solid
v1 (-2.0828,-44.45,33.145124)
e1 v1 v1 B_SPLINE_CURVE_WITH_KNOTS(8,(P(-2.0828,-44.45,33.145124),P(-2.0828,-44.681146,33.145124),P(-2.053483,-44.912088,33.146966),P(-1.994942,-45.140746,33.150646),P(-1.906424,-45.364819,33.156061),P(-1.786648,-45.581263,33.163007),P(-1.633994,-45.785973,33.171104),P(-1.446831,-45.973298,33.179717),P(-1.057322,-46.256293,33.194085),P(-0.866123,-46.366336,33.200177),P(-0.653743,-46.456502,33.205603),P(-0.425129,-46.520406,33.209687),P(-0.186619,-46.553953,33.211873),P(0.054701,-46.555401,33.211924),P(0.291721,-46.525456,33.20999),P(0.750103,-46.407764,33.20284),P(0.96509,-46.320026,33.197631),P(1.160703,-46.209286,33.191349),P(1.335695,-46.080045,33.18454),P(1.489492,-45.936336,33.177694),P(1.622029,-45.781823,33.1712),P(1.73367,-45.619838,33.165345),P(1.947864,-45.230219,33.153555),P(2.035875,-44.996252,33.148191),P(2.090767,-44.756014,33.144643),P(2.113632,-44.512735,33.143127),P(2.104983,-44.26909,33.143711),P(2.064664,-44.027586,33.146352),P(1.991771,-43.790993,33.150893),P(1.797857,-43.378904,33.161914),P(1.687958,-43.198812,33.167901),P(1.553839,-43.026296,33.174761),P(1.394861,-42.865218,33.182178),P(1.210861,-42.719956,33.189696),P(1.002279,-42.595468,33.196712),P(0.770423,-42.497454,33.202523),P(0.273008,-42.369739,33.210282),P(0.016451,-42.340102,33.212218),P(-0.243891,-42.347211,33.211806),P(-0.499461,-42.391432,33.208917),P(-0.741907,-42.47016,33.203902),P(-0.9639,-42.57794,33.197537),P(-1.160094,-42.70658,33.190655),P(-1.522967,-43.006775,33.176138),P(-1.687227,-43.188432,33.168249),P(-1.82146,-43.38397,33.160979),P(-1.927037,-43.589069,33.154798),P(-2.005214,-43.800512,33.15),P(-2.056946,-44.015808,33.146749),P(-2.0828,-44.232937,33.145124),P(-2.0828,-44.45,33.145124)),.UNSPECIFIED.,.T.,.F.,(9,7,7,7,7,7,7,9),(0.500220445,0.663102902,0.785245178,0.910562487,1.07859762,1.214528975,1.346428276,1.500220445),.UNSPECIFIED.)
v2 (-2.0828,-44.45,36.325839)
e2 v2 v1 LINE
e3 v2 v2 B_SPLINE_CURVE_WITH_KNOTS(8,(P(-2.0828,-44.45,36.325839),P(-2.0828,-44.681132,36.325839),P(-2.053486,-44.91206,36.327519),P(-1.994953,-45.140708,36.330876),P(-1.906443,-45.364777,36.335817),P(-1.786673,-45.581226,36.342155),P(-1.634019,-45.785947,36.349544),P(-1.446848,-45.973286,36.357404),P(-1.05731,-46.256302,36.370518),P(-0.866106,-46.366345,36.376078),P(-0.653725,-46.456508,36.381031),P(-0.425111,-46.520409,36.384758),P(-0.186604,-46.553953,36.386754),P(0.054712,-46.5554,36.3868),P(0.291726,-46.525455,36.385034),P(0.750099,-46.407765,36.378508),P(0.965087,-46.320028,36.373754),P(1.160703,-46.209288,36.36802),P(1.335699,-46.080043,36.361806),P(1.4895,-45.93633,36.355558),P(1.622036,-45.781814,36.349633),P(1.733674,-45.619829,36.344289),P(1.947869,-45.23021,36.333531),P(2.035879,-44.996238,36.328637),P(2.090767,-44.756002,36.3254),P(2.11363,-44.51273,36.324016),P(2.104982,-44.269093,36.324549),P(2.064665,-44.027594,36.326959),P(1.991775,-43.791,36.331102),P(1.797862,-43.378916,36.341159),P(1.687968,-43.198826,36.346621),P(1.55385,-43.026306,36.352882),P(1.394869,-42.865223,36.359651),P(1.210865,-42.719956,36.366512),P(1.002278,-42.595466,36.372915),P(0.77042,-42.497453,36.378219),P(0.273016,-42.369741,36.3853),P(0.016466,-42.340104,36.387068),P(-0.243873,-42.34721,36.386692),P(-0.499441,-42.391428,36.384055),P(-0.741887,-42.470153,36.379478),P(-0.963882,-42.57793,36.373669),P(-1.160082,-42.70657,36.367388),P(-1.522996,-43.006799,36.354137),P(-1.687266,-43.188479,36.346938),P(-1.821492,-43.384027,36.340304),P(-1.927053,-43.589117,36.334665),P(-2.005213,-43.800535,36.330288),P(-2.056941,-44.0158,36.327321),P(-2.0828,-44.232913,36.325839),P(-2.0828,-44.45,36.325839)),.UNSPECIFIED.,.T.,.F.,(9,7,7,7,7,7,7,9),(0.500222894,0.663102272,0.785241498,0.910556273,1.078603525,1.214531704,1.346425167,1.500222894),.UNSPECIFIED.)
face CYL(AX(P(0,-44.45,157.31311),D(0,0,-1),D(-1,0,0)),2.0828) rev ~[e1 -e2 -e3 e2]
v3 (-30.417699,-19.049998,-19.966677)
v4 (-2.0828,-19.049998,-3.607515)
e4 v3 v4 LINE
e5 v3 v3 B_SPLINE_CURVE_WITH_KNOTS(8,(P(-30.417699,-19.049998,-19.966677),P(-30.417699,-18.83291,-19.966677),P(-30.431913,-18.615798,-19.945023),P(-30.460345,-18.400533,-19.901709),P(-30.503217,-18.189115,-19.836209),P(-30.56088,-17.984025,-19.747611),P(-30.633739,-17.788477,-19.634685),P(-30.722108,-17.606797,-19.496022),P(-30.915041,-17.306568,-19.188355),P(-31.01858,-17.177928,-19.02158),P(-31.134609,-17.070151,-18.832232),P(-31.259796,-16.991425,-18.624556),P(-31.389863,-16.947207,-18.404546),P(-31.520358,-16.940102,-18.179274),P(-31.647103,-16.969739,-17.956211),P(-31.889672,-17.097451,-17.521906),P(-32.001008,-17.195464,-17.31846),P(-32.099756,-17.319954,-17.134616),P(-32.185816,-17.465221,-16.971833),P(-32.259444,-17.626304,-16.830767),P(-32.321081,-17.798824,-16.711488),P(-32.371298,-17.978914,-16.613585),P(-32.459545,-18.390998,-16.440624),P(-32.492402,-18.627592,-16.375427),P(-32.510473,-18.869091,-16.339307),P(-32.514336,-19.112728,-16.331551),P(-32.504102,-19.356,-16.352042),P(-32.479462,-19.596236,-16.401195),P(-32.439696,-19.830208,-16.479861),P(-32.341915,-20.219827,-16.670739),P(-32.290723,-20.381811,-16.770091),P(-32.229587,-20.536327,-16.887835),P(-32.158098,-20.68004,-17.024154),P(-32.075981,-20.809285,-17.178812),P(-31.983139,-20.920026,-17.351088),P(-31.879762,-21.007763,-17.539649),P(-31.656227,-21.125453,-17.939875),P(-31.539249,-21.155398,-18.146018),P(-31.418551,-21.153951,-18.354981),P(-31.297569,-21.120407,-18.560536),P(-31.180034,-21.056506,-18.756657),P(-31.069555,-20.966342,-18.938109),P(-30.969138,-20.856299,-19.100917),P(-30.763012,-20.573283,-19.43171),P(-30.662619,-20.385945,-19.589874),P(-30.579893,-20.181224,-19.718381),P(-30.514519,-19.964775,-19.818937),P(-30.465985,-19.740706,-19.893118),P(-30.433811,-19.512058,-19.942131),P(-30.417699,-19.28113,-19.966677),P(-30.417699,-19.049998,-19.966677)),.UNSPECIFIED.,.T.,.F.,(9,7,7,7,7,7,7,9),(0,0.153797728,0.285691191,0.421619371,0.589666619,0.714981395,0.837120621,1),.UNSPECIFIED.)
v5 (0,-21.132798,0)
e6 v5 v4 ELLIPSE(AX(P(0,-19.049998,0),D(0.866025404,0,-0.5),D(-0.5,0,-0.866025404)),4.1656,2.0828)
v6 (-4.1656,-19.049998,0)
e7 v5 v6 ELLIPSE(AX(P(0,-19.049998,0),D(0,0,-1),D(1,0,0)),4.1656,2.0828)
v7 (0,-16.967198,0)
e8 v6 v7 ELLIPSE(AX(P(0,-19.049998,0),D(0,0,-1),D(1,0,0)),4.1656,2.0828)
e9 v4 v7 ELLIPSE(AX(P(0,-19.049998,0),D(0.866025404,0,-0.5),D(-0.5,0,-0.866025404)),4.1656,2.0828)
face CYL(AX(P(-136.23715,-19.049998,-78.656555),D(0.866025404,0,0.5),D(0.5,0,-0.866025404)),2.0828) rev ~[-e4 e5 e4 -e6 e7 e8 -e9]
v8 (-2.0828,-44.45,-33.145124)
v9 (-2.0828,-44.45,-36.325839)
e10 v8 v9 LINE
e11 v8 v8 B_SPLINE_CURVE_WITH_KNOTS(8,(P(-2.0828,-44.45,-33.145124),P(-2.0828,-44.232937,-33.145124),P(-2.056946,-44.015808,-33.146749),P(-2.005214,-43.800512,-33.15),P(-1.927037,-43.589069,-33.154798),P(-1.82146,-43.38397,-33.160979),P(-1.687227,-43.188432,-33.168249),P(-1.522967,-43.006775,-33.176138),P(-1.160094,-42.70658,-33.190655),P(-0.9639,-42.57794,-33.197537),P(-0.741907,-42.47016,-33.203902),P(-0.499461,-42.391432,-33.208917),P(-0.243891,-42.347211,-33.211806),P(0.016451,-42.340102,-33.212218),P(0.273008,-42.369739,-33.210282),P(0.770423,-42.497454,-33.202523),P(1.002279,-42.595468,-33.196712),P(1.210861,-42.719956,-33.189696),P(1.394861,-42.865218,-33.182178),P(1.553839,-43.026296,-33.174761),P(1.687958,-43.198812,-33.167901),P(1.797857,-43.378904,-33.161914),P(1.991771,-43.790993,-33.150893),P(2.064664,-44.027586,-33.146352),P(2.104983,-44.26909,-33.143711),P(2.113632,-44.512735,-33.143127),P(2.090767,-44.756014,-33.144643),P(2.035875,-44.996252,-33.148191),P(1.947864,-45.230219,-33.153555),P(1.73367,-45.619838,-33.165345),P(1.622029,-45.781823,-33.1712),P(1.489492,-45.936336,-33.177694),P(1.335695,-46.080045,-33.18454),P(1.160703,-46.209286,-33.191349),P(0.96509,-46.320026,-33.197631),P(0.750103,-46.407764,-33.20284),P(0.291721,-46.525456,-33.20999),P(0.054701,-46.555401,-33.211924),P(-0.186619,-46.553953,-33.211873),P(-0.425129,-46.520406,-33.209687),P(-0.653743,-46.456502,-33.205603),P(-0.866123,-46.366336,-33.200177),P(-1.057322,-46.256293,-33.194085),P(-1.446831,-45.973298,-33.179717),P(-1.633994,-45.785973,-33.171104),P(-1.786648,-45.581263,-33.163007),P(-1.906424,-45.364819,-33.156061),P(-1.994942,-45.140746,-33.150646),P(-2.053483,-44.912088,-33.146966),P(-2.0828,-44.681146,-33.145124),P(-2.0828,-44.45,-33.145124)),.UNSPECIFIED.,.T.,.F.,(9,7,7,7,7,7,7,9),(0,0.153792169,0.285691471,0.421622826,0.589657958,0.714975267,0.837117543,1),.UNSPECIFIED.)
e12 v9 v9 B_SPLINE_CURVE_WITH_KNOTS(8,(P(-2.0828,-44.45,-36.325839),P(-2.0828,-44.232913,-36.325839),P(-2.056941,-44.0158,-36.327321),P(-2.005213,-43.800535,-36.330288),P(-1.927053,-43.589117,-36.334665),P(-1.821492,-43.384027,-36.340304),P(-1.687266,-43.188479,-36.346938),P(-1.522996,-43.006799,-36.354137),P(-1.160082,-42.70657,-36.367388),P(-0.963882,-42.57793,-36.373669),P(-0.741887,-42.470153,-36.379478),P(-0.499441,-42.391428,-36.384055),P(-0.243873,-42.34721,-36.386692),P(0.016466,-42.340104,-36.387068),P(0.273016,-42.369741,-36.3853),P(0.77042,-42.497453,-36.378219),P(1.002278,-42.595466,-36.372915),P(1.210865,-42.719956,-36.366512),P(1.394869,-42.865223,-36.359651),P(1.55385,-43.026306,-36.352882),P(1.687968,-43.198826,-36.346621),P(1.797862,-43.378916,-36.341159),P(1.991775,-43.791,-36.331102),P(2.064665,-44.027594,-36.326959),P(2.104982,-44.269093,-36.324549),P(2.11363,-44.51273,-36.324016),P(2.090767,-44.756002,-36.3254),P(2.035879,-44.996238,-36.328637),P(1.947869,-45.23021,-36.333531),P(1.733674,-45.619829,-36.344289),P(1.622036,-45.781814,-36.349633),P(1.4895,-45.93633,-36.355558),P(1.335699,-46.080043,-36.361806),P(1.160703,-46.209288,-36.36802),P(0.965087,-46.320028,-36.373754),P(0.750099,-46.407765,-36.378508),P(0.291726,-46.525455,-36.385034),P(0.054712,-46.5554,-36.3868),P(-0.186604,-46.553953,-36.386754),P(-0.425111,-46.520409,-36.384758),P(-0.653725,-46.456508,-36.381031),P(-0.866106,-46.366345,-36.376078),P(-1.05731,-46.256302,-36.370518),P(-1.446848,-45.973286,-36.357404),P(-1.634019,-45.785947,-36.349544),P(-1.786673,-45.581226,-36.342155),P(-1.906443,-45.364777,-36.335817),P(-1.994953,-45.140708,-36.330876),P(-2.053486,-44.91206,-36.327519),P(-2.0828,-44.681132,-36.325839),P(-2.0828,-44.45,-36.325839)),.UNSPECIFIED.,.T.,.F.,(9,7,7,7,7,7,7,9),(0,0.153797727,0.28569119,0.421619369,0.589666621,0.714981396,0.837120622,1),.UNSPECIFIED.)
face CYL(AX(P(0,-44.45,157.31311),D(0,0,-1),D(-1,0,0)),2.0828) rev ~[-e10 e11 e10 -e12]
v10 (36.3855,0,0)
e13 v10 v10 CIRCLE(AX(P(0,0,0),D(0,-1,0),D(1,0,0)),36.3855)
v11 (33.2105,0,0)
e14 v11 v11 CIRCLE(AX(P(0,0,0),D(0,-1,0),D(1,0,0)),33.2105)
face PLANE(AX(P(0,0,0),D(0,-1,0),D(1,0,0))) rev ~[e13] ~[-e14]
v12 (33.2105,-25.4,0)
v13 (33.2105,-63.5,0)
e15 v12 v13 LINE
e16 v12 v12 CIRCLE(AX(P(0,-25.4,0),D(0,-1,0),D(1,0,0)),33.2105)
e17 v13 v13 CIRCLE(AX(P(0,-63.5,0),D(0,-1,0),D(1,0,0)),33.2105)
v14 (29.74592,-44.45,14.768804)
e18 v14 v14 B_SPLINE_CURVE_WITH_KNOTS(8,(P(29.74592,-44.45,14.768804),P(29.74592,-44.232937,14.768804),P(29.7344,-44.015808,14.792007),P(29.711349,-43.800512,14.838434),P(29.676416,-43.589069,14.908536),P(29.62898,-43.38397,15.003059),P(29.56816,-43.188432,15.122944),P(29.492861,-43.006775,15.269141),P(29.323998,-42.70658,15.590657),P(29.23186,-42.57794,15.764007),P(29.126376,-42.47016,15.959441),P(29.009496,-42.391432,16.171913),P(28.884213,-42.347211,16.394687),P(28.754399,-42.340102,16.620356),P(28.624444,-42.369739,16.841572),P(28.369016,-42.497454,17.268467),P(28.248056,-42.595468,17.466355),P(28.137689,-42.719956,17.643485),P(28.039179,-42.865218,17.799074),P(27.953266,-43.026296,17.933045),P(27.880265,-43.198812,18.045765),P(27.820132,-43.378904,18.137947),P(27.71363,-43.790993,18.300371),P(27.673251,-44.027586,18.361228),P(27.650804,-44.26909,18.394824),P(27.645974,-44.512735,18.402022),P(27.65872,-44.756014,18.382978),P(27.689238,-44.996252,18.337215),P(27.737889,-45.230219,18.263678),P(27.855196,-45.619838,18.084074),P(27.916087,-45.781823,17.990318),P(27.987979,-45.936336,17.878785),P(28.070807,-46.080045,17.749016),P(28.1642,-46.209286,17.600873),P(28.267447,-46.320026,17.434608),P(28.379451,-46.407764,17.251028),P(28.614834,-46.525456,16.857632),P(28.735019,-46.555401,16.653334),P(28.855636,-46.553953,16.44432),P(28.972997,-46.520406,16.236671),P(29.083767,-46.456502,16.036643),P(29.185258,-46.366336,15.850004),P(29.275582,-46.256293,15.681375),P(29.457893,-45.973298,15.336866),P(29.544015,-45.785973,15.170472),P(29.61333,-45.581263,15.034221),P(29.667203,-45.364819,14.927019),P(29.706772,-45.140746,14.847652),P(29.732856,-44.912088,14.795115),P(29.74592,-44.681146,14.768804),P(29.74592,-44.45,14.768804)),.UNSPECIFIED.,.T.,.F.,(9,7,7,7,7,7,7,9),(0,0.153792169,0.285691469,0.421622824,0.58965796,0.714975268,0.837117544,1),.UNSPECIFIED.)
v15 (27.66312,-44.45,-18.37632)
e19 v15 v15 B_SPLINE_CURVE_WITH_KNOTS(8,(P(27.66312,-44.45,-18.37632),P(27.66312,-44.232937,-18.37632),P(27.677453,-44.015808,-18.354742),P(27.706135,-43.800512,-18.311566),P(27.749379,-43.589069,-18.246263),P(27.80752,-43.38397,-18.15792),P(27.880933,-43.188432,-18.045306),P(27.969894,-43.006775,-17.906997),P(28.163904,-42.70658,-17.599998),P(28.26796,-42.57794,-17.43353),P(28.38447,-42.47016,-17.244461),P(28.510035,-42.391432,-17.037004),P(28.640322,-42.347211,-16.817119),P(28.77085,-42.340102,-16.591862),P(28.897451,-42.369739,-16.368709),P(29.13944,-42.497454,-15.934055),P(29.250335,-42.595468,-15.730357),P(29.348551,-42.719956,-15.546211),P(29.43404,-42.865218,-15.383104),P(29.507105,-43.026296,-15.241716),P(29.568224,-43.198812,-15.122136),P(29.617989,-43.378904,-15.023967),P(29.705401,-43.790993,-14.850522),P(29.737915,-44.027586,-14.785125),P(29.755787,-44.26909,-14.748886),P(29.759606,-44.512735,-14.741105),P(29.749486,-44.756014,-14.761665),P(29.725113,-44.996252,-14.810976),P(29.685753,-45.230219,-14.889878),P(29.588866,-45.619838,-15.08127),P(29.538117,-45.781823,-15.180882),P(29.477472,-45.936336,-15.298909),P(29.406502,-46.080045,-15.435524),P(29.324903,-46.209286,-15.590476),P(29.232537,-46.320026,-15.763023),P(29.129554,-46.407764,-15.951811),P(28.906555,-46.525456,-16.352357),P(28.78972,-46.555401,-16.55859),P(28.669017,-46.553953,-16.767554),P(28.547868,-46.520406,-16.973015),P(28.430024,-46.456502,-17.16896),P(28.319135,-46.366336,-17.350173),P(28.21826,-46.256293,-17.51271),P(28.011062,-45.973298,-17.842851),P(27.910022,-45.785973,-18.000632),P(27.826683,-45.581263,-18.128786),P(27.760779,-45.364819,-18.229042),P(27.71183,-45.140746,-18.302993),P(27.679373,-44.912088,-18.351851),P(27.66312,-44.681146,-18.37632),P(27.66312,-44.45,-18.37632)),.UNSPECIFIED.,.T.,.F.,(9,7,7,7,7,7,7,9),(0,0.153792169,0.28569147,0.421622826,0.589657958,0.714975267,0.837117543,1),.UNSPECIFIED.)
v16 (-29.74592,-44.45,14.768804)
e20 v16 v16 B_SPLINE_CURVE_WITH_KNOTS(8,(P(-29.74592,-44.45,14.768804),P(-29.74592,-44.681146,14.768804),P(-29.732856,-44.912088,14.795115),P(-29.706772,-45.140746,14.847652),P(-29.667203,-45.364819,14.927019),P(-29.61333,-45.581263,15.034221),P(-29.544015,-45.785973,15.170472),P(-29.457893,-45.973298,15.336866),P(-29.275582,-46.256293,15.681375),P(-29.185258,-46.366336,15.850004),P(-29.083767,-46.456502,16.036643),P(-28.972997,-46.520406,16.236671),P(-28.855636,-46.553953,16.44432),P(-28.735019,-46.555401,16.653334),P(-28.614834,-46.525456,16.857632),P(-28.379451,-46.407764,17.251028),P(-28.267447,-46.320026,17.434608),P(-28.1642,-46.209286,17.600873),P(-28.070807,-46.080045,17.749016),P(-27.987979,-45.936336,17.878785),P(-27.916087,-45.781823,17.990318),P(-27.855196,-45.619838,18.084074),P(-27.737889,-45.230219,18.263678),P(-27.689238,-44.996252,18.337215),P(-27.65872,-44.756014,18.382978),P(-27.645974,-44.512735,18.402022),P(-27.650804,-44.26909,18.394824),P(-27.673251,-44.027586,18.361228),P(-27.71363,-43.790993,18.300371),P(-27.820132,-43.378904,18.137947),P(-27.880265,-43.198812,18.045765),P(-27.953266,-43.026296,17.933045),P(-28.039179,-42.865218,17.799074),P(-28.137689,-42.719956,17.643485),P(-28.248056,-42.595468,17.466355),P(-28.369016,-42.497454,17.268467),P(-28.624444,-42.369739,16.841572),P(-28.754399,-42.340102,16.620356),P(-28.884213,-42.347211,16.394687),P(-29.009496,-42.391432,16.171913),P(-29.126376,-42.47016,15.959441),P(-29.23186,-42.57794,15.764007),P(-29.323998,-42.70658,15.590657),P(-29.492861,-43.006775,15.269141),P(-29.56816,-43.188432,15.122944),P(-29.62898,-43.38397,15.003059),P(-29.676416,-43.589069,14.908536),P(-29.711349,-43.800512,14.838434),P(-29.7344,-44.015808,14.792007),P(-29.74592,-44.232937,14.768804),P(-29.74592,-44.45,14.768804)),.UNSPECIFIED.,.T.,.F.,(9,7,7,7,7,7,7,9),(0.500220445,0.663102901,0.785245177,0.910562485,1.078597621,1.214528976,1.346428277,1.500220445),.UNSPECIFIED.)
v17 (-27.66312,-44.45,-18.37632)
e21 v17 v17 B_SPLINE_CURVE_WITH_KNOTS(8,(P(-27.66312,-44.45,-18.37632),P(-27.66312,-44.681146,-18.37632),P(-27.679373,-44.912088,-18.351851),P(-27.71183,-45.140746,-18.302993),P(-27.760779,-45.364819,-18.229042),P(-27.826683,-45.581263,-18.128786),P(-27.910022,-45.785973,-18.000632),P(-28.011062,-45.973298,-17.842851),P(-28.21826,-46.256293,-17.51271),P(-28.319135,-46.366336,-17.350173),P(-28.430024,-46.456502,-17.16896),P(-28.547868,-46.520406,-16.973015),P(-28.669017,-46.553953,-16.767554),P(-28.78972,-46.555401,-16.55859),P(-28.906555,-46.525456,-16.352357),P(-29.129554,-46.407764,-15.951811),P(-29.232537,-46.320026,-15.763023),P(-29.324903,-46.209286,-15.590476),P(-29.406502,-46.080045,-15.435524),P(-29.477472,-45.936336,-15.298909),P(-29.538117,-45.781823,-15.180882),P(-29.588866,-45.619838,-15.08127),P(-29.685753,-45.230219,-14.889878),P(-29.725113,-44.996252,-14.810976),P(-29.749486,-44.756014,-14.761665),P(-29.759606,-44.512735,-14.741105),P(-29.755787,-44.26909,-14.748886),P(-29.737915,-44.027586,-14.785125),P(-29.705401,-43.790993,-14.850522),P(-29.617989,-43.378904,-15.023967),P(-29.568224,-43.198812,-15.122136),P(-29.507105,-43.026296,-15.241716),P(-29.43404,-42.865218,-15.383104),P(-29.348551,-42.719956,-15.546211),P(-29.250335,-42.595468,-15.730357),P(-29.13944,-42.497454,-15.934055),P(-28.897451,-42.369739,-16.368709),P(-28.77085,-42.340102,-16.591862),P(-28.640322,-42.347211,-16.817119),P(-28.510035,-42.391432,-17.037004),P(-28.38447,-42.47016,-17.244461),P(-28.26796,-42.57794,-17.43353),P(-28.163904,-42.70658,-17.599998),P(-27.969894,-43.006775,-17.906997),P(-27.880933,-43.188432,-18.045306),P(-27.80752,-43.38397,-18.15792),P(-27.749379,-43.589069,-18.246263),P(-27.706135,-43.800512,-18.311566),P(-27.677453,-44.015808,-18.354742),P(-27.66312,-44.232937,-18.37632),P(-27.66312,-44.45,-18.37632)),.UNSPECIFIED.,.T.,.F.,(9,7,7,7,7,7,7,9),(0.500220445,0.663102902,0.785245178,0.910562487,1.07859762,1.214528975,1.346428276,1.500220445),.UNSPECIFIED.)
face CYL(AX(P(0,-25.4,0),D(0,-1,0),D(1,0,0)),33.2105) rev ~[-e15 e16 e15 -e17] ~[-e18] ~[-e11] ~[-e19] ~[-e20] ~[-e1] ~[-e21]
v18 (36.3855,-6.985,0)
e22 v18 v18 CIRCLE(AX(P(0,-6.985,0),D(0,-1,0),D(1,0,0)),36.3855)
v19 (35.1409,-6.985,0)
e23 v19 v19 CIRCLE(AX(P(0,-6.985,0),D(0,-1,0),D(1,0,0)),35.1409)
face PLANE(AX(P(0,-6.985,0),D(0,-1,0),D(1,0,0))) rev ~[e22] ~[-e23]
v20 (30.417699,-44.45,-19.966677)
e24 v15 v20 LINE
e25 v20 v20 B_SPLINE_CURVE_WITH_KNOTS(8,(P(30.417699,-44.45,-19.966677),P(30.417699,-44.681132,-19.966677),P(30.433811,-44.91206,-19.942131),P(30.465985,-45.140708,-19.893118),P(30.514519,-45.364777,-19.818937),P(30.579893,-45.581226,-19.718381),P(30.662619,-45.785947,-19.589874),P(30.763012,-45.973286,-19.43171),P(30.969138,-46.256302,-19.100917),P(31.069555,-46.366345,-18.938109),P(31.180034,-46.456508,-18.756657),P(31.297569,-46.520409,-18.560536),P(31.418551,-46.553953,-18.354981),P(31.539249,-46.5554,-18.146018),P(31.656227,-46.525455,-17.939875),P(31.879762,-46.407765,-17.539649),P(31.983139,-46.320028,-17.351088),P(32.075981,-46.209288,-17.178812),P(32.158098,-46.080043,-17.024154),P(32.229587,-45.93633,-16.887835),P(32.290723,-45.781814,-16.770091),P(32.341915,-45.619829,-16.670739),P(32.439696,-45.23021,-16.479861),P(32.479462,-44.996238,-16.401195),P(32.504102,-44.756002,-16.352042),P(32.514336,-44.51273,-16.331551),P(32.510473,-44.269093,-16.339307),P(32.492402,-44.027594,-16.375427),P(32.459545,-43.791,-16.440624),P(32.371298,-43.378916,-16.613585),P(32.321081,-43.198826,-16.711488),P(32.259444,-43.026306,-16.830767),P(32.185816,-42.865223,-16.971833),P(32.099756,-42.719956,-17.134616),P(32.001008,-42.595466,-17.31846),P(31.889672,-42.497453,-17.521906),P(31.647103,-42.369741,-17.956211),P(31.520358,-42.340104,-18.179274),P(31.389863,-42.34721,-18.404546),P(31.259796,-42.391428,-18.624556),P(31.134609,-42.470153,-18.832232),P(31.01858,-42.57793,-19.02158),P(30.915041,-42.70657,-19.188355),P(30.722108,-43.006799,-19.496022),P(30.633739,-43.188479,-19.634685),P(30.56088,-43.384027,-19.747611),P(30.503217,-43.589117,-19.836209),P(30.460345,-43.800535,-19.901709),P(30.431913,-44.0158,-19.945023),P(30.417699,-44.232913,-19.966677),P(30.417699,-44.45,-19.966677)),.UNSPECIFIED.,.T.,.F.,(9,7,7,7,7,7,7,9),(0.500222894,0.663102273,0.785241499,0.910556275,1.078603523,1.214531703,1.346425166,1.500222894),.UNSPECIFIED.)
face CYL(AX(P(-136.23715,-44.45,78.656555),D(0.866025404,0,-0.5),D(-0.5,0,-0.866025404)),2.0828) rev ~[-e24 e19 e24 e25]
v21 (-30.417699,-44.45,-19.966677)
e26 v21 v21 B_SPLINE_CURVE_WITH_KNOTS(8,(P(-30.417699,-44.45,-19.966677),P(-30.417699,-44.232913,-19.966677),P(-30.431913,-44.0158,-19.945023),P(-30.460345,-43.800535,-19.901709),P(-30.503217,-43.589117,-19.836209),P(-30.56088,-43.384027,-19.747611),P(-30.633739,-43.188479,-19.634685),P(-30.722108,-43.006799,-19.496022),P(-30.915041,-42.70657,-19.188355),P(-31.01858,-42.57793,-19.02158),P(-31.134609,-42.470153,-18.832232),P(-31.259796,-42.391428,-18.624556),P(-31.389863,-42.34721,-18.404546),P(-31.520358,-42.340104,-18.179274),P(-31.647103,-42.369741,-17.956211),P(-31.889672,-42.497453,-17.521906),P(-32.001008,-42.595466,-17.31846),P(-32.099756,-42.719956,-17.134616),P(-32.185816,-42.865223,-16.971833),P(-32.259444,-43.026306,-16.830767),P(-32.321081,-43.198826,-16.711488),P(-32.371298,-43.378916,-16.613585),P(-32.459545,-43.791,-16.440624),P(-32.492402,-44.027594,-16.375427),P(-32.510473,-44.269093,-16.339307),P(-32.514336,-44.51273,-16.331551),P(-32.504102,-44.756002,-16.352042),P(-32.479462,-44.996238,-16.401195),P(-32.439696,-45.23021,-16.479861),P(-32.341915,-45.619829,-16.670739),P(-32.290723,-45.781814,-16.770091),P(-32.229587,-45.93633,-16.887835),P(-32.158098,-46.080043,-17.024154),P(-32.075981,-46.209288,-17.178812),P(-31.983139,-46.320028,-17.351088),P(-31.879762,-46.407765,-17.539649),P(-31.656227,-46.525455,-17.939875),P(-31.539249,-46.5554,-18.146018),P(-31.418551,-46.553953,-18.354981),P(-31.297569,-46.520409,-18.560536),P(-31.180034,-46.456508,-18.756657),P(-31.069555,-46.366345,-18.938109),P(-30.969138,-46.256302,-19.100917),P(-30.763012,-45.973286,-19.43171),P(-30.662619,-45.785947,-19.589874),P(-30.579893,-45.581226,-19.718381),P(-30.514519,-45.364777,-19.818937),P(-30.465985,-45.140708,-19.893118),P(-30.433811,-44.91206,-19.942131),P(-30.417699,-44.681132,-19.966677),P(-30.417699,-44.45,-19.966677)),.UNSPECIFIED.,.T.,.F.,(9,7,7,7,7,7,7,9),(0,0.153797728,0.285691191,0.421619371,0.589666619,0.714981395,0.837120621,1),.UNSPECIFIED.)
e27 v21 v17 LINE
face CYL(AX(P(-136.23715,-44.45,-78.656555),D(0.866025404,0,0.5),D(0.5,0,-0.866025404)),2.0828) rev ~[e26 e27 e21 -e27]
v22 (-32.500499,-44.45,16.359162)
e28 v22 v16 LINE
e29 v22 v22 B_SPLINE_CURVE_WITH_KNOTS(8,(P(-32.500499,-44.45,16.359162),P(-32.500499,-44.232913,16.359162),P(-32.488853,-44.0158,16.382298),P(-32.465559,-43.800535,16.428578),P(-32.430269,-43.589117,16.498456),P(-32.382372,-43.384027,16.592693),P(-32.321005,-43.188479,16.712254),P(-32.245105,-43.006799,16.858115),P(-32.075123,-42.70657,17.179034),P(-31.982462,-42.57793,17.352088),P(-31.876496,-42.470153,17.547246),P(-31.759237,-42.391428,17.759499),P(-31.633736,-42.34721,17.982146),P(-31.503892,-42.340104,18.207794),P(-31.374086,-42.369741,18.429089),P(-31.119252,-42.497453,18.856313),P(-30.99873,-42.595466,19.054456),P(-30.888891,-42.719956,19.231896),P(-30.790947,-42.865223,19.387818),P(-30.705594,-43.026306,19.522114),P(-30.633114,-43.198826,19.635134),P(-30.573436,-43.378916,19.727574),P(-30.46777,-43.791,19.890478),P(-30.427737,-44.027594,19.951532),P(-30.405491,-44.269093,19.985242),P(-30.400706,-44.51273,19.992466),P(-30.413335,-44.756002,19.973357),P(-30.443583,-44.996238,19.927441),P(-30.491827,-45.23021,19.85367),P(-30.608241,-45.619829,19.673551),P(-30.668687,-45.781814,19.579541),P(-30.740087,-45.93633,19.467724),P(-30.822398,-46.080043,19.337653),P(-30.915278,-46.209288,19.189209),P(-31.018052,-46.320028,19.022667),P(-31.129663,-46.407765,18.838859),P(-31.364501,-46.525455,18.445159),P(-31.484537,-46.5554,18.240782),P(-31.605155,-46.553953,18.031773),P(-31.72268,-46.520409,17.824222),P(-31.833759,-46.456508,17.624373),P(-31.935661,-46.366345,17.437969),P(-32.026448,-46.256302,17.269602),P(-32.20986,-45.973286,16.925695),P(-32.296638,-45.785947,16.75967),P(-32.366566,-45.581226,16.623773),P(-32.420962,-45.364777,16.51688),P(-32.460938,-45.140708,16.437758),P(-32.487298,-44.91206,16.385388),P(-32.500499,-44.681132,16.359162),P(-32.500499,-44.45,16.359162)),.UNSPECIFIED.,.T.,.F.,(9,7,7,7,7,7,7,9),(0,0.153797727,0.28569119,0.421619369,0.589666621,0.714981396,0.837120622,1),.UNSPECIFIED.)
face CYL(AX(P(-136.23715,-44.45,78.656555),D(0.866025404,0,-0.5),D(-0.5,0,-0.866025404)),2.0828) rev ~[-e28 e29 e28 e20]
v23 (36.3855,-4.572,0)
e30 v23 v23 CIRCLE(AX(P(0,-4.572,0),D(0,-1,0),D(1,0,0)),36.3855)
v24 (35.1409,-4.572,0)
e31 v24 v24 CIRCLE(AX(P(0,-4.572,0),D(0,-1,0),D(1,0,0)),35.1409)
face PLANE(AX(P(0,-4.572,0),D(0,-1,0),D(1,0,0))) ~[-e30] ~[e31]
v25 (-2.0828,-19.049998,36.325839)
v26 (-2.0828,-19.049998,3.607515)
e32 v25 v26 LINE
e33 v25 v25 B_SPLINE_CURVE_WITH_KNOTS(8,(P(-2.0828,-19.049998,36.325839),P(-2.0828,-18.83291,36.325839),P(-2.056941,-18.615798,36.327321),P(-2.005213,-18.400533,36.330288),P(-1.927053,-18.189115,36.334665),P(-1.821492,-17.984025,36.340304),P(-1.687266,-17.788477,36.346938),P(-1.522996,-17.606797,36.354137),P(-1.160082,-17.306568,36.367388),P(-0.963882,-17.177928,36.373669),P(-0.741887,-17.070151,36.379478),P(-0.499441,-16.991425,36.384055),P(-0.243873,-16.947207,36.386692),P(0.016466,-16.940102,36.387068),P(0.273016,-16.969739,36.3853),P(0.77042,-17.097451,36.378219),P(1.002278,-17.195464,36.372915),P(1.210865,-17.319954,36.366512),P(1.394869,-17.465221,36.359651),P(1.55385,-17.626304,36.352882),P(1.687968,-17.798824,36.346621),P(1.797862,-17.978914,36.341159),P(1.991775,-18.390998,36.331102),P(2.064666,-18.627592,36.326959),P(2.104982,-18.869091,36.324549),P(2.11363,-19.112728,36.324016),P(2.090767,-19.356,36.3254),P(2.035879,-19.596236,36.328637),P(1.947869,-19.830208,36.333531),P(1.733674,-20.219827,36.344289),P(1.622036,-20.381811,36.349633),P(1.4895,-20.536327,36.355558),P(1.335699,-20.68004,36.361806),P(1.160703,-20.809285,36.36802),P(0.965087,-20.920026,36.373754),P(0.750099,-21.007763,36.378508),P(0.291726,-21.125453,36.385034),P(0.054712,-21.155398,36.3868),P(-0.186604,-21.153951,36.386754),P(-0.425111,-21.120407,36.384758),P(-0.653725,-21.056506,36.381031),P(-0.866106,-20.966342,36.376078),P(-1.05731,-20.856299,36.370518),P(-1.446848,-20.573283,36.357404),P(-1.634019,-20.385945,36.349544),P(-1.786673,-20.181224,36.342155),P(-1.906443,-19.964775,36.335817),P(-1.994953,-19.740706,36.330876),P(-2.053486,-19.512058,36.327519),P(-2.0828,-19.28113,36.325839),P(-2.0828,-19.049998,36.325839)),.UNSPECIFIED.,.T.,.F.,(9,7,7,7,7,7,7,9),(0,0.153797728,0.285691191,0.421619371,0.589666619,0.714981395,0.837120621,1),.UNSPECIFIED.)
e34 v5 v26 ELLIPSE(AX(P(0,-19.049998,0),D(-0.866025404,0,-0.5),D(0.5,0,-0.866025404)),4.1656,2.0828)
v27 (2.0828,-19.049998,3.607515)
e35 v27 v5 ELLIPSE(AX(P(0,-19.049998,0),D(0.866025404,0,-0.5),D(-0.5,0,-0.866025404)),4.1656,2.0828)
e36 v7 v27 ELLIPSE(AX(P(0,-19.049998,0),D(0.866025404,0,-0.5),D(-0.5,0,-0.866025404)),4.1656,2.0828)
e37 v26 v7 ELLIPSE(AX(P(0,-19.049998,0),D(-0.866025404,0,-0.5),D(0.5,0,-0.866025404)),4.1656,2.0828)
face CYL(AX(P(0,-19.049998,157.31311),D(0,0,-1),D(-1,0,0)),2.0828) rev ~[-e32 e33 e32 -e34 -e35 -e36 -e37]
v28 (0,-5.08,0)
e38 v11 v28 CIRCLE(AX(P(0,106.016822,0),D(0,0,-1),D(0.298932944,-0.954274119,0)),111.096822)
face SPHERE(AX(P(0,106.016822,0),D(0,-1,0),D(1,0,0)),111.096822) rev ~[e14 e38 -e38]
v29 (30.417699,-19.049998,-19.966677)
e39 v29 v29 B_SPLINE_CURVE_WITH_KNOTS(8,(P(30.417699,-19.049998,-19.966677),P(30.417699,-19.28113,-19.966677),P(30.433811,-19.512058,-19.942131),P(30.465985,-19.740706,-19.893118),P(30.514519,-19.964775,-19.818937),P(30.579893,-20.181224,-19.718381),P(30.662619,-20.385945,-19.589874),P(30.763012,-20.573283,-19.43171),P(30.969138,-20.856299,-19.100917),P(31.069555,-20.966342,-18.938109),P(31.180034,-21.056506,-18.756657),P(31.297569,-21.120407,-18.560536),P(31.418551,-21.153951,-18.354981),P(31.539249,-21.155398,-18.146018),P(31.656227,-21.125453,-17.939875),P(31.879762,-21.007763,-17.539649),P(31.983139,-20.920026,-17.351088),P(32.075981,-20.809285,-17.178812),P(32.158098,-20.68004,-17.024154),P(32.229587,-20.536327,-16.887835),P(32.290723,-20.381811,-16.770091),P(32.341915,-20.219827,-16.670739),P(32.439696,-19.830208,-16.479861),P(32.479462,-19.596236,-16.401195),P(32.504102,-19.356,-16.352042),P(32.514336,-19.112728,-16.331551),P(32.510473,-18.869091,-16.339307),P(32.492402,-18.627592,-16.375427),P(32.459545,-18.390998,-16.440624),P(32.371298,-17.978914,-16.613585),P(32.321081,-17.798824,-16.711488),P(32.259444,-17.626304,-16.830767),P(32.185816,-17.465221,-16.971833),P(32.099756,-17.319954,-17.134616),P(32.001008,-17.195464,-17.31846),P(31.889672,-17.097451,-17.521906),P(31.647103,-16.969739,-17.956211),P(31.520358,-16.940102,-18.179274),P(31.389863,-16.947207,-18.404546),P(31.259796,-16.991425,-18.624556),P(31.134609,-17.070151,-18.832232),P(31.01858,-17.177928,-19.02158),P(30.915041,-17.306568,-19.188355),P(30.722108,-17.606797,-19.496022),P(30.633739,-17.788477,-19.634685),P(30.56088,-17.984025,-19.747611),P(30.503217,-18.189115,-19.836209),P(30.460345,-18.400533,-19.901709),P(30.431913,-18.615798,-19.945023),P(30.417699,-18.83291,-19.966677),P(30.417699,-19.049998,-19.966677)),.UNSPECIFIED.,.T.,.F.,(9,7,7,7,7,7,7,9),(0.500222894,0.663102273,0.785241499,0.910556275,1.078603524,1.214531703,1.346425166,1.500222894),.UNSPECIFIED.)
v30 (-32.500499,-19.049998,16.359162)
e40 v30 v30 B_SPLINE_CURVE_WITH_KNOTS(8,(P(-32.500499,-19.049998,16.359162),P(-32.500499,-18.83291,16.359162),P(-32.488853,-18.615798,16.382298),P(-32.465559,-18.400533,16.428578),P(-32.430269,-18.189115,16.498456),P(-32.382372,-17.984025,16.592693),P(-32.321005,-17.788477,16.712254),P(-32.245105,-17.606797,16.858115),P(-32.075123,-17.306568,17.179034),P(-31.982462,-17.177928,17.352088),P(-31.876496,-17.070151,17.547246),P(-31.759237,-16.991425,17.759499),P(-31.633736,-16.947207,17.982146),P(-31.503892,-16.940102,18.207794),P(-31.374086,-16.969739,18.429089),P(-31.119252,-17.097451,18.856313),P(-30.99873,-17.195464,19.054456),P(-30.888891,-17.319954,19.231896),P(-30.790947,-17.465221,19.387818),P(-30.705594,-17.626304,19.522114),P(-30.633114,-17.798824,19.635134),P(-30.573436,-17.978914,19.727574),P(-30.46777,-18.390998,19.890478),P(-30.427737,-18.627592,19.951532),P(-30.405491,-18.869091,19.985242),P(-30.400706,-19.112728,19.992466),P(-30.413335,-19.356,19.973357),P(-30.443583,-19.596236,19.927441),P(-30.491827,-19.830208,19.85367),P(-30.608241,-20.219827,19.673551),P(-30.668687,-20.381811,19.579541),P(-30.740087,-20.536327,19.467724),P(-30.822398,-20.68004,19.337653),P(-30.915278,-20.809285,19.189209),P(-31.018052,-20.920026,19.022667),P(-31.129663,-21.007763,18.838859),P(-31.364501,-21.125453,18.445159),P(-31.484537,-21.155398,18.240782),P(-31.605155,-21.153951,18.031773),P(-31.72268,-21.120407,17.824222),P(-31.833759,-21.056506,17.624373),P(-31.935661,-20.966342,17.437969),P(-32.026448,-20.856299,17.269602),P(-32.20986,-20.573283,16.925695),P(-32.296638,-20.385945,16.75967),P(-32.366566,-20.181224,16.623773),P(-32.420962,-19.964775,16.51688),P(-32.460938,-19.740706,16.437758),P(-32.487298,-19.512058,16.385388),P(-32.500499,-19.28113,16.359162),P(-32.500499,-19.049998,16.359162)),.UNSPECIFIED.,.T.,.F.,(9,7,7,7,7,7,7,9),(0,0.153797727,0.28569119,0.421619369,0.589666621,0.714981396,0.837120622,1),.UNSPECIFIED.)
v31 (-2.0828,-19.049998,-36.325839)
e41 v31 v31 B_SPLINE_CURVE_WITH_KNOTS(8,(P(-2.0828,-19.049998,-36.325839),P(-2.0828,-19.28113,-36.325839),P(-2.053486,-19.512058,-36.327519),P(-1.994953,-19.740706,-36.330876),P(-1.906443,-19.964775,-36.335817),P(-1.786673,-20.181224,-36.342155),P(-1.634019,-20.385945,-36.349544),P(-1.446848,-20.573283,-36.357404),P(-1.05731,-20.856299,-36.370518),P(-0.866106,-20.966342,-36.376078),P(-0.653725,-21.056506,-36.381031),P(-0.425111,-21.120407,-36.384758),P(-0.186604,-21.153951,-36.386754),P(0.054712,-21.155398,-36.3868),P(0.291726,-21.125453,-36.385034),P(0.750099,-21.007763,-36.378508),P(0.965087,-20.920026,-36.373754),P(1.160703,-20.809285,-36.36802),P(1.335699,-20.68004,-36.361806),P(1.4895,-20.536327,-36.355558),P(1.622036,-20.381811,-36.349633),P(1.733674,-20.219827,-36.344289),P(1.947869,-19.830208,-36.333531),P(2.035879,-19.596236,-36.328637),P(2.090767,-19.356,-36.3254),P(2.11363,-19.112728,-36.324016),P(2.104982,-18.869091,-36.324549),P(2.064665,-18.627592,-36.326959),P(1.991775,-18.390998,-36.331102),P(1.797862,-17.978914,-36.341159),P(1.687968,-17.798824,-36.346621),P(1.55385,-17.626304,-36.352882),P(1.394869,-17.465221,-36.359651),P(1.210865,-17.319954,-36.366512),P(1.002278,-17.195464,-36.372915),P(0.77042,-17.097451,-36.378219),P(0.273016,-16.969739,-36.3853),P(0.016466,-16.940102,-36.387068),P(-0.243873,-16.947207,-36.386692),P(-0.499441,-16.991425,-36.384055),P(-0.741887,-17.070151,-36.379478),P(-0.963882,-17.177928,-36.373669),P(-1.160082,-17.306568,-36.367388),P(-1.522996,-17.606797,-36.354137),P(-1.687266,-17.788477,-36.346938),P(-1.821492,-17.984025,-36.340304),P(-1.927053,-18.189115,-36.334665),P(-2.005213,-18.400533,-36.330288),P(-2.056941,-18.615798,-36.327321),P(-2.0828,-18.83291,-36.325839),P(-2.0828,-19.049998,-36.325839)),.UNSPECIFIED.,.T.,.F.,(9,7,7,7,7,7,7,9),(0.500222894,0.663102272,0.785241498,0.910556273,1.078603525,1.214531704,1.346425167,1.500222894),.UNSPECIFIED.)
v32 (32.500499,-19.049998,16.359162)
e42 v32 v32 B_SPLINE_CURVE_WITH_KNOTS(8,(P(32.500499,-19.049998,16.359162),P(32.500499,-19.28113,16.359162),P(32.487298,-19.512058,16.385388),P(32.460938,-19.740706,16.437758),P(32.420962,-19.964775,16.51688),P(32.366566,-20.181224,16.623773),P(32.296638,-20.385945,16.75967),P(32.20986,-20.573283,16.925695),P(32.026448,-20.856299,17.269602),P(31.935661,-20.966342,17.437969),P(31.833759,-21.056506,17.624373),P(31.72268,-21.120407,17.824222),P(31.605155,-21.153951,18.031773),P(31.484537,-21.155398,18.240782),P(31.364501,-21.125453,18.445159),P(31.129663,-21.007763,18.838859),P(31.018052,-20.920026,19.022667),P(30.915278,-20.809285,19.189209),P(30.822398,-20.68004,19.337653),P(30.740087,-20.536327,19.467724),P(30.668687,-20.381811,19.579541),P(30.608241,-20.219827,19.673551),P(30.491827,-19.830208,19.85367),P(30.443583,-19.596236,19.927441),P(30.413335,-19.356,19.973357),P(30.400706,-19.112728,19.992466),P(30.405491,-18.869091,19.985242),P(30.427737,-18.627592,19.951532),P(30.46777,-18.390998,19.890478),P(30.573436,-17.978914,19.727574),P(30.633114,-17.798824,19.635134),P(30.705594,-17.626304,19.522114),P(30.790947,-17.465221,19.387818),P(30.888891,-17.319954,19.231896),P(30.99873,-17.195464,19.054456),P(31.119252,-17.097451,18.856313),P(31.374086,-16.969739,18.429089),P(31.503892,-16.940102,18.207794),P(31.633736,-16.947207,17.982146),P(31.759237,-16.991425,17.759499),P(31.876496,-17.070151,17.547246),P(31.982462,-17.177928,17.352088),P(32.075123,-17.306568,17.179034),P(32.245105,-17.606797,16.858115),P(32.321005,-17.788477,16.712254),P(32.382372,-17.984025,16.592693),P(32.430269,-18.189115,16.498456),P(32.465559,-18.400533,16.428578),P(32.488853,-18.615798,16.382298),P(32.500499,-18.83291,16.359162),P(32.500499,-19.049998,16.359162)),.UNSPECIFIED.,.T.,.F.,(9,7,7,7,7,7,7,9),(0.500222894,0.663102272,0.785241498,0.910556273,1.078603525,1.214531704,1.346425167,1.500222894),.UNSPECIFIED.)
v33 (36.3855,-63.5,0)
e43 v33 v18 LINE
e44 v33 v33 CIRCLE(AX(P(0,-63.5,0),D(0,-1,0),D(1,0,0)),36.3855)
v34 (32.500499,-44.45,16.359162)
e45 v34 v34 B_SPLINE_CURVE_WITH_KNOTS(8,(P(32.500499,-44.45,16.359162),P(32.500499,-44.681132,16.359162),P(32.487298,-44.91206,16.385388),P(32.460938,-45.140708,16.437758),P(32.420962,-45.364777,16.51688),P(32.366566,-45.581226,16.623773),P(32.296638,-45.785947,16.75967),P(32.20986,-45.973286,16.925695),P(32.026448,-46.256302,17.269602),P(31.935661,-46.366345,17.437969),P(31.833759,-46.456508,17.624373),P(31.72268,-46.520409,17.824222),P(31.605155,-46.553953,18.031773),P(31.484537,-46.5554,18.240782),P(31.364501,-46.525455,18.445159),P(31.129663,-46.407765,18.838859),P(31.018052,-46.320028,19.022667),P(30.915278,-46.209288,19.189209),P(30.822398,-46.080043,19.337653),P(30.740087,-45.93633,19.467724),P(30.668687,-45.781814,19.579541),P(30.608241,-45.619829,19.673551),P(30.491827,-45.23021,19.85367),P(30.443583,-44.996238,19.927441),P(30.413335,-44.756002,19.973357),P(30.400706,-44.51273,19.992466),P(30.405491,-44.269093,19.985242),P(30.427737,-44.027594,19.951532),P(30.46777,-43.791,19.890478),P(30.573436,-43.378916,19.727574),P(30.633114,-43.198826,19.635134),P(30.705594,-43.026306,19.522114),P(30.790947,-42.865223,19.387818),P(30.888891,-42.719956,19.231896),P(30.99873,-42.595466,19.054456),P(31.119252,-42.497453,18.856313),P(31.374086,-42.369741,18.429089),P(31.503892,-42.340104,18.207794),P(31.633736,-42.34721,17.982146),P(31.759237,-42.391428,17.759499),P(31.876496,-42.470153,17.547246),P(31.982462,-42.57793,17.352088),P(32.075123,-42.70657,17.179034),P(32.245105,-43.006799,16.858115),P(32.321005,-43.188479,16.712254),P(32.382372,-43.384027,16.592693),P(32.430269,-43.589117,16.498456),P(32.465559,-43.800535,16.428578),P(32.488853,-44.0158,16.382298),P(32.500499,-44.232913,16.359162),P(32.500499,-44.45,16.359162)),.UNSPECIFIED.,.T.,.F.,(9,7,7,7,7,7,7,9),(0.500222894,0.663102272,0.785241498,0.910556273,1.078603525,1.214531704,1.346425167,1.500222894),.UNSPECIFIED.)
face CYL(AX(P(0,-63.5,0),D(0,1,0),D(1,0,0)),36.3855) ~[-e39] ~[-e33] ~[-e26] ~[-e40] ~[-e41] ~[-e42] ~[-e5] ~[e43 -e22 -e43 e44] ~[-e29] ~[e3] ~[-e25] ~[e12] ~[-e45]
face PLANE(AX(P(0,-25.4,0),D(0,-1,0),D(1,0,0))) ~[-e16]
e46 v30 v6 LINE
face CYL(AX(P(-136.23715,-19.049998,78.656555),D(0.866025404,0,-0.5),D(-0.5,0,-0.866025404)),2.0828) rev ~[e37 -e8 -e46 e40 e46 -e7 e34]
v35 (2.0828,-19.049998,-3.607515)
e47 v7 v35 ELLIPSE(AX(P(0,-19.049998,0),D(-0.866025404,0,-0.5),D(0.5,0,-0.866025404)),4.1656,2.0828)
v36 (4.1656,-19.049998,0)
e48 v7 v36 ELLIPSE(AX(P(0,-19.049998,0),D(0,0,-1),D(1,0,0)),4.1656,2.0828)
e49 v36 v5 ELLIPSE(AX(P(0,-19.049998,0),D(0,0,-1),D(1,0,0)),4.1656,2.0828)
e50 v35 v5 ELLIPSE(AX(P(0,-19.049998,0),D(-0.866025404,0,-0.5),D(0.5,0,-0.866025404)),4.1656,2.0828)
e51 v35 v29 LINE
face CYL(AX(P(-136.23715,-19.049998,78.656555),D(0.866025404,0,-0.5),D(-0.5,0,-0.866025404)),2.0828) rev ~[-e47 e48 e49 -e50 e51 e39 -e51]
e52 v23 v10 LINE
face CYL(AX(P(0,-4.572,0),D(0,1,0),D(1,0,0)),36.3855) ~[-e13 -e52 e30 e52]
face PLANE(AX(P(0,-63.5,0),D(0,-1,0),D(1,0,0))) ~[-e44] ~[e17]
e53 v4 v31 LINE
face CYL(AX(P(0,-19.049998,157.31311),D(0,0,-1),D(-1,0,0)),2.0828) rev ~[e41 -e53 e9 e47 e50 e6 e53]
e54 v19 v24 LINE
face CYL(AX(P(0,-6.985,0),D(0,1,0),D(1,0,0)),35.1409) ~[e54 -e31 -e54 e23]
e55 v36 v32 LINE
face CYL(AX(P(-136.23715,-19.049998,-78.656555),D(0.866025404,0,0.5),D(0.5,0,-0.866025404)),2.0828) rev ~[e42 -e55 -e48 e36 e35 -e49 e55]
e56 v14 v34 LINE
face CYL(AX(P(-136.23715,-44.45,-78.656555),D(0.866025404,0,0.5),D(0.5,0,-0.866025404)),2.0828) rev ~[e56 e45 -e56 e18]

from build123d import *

# Parameters (mm, degrees)
F_19_0_164_DIAMETER_HOLE1_D = 4.1656
CIRPATTERN2_COUNT           = 6


with BuildPart() as part:
    # Sketch1 → Revolve2 (revolve)
    with BuildSketch(Plane.XY):
        with BuildLine():
            Line((0, -25.4), (33.2105, -25.4))
            Line((33.2105, -25.4), (33.2105, -63.5))
            Line((33.2105, -63.5), (36.3855, -63.5))
            Line((36.3855, -63.5), (36.3855, -6.985))
            Line((36.3855, -6.985), (35.1409, -6.985))
            Line((35.1409, -6.985), (35.1409, -4.572))
            Line((35.1409, -4.572), (36.3855, -4.572))
            Line((36.3855, -4.572), (36.3855, 0))
            Line((36.3855, 0), (33.2105, 0))
            ThreePointArc((33.2105, 0), (16.798390624, -3.802656831), (0, -5.08))
            Line((0, -5.08), (0, -25.4))
        make_face()
    revolve(axis=Axis((0, 0, 0), (0, -1, 0)))

    # #19 (0.164) Diameter Hole1 (through all)
    with Locations(Plane(origin=(0, -19.049997805, 36.3855), x_dir=(1, 0, 0), z_dir=(0, 0, 1))):
        with Locations((0, 0), (0, -25.400002195)):
            f_19_0_164_diameter_hole1 = Hole(F_19_0_164_DIAMETER_HOLE1_D / 2)

    # CirPattern2: #19 (0.164) Diameter Hole1 ×6 about axis
    cirpattern2_axis = Axis((0, 0, 0), (0, -1, 0))
    for i in range(1, CIRPATTERN2_COUNT):
        add(f_19_0_164_diameter_hole1.rotate(cirpattern2_axis, i * 360 / CIRPATTERN2_COUNT), mode=Mode.SUBTRACT)


solid = part.part
